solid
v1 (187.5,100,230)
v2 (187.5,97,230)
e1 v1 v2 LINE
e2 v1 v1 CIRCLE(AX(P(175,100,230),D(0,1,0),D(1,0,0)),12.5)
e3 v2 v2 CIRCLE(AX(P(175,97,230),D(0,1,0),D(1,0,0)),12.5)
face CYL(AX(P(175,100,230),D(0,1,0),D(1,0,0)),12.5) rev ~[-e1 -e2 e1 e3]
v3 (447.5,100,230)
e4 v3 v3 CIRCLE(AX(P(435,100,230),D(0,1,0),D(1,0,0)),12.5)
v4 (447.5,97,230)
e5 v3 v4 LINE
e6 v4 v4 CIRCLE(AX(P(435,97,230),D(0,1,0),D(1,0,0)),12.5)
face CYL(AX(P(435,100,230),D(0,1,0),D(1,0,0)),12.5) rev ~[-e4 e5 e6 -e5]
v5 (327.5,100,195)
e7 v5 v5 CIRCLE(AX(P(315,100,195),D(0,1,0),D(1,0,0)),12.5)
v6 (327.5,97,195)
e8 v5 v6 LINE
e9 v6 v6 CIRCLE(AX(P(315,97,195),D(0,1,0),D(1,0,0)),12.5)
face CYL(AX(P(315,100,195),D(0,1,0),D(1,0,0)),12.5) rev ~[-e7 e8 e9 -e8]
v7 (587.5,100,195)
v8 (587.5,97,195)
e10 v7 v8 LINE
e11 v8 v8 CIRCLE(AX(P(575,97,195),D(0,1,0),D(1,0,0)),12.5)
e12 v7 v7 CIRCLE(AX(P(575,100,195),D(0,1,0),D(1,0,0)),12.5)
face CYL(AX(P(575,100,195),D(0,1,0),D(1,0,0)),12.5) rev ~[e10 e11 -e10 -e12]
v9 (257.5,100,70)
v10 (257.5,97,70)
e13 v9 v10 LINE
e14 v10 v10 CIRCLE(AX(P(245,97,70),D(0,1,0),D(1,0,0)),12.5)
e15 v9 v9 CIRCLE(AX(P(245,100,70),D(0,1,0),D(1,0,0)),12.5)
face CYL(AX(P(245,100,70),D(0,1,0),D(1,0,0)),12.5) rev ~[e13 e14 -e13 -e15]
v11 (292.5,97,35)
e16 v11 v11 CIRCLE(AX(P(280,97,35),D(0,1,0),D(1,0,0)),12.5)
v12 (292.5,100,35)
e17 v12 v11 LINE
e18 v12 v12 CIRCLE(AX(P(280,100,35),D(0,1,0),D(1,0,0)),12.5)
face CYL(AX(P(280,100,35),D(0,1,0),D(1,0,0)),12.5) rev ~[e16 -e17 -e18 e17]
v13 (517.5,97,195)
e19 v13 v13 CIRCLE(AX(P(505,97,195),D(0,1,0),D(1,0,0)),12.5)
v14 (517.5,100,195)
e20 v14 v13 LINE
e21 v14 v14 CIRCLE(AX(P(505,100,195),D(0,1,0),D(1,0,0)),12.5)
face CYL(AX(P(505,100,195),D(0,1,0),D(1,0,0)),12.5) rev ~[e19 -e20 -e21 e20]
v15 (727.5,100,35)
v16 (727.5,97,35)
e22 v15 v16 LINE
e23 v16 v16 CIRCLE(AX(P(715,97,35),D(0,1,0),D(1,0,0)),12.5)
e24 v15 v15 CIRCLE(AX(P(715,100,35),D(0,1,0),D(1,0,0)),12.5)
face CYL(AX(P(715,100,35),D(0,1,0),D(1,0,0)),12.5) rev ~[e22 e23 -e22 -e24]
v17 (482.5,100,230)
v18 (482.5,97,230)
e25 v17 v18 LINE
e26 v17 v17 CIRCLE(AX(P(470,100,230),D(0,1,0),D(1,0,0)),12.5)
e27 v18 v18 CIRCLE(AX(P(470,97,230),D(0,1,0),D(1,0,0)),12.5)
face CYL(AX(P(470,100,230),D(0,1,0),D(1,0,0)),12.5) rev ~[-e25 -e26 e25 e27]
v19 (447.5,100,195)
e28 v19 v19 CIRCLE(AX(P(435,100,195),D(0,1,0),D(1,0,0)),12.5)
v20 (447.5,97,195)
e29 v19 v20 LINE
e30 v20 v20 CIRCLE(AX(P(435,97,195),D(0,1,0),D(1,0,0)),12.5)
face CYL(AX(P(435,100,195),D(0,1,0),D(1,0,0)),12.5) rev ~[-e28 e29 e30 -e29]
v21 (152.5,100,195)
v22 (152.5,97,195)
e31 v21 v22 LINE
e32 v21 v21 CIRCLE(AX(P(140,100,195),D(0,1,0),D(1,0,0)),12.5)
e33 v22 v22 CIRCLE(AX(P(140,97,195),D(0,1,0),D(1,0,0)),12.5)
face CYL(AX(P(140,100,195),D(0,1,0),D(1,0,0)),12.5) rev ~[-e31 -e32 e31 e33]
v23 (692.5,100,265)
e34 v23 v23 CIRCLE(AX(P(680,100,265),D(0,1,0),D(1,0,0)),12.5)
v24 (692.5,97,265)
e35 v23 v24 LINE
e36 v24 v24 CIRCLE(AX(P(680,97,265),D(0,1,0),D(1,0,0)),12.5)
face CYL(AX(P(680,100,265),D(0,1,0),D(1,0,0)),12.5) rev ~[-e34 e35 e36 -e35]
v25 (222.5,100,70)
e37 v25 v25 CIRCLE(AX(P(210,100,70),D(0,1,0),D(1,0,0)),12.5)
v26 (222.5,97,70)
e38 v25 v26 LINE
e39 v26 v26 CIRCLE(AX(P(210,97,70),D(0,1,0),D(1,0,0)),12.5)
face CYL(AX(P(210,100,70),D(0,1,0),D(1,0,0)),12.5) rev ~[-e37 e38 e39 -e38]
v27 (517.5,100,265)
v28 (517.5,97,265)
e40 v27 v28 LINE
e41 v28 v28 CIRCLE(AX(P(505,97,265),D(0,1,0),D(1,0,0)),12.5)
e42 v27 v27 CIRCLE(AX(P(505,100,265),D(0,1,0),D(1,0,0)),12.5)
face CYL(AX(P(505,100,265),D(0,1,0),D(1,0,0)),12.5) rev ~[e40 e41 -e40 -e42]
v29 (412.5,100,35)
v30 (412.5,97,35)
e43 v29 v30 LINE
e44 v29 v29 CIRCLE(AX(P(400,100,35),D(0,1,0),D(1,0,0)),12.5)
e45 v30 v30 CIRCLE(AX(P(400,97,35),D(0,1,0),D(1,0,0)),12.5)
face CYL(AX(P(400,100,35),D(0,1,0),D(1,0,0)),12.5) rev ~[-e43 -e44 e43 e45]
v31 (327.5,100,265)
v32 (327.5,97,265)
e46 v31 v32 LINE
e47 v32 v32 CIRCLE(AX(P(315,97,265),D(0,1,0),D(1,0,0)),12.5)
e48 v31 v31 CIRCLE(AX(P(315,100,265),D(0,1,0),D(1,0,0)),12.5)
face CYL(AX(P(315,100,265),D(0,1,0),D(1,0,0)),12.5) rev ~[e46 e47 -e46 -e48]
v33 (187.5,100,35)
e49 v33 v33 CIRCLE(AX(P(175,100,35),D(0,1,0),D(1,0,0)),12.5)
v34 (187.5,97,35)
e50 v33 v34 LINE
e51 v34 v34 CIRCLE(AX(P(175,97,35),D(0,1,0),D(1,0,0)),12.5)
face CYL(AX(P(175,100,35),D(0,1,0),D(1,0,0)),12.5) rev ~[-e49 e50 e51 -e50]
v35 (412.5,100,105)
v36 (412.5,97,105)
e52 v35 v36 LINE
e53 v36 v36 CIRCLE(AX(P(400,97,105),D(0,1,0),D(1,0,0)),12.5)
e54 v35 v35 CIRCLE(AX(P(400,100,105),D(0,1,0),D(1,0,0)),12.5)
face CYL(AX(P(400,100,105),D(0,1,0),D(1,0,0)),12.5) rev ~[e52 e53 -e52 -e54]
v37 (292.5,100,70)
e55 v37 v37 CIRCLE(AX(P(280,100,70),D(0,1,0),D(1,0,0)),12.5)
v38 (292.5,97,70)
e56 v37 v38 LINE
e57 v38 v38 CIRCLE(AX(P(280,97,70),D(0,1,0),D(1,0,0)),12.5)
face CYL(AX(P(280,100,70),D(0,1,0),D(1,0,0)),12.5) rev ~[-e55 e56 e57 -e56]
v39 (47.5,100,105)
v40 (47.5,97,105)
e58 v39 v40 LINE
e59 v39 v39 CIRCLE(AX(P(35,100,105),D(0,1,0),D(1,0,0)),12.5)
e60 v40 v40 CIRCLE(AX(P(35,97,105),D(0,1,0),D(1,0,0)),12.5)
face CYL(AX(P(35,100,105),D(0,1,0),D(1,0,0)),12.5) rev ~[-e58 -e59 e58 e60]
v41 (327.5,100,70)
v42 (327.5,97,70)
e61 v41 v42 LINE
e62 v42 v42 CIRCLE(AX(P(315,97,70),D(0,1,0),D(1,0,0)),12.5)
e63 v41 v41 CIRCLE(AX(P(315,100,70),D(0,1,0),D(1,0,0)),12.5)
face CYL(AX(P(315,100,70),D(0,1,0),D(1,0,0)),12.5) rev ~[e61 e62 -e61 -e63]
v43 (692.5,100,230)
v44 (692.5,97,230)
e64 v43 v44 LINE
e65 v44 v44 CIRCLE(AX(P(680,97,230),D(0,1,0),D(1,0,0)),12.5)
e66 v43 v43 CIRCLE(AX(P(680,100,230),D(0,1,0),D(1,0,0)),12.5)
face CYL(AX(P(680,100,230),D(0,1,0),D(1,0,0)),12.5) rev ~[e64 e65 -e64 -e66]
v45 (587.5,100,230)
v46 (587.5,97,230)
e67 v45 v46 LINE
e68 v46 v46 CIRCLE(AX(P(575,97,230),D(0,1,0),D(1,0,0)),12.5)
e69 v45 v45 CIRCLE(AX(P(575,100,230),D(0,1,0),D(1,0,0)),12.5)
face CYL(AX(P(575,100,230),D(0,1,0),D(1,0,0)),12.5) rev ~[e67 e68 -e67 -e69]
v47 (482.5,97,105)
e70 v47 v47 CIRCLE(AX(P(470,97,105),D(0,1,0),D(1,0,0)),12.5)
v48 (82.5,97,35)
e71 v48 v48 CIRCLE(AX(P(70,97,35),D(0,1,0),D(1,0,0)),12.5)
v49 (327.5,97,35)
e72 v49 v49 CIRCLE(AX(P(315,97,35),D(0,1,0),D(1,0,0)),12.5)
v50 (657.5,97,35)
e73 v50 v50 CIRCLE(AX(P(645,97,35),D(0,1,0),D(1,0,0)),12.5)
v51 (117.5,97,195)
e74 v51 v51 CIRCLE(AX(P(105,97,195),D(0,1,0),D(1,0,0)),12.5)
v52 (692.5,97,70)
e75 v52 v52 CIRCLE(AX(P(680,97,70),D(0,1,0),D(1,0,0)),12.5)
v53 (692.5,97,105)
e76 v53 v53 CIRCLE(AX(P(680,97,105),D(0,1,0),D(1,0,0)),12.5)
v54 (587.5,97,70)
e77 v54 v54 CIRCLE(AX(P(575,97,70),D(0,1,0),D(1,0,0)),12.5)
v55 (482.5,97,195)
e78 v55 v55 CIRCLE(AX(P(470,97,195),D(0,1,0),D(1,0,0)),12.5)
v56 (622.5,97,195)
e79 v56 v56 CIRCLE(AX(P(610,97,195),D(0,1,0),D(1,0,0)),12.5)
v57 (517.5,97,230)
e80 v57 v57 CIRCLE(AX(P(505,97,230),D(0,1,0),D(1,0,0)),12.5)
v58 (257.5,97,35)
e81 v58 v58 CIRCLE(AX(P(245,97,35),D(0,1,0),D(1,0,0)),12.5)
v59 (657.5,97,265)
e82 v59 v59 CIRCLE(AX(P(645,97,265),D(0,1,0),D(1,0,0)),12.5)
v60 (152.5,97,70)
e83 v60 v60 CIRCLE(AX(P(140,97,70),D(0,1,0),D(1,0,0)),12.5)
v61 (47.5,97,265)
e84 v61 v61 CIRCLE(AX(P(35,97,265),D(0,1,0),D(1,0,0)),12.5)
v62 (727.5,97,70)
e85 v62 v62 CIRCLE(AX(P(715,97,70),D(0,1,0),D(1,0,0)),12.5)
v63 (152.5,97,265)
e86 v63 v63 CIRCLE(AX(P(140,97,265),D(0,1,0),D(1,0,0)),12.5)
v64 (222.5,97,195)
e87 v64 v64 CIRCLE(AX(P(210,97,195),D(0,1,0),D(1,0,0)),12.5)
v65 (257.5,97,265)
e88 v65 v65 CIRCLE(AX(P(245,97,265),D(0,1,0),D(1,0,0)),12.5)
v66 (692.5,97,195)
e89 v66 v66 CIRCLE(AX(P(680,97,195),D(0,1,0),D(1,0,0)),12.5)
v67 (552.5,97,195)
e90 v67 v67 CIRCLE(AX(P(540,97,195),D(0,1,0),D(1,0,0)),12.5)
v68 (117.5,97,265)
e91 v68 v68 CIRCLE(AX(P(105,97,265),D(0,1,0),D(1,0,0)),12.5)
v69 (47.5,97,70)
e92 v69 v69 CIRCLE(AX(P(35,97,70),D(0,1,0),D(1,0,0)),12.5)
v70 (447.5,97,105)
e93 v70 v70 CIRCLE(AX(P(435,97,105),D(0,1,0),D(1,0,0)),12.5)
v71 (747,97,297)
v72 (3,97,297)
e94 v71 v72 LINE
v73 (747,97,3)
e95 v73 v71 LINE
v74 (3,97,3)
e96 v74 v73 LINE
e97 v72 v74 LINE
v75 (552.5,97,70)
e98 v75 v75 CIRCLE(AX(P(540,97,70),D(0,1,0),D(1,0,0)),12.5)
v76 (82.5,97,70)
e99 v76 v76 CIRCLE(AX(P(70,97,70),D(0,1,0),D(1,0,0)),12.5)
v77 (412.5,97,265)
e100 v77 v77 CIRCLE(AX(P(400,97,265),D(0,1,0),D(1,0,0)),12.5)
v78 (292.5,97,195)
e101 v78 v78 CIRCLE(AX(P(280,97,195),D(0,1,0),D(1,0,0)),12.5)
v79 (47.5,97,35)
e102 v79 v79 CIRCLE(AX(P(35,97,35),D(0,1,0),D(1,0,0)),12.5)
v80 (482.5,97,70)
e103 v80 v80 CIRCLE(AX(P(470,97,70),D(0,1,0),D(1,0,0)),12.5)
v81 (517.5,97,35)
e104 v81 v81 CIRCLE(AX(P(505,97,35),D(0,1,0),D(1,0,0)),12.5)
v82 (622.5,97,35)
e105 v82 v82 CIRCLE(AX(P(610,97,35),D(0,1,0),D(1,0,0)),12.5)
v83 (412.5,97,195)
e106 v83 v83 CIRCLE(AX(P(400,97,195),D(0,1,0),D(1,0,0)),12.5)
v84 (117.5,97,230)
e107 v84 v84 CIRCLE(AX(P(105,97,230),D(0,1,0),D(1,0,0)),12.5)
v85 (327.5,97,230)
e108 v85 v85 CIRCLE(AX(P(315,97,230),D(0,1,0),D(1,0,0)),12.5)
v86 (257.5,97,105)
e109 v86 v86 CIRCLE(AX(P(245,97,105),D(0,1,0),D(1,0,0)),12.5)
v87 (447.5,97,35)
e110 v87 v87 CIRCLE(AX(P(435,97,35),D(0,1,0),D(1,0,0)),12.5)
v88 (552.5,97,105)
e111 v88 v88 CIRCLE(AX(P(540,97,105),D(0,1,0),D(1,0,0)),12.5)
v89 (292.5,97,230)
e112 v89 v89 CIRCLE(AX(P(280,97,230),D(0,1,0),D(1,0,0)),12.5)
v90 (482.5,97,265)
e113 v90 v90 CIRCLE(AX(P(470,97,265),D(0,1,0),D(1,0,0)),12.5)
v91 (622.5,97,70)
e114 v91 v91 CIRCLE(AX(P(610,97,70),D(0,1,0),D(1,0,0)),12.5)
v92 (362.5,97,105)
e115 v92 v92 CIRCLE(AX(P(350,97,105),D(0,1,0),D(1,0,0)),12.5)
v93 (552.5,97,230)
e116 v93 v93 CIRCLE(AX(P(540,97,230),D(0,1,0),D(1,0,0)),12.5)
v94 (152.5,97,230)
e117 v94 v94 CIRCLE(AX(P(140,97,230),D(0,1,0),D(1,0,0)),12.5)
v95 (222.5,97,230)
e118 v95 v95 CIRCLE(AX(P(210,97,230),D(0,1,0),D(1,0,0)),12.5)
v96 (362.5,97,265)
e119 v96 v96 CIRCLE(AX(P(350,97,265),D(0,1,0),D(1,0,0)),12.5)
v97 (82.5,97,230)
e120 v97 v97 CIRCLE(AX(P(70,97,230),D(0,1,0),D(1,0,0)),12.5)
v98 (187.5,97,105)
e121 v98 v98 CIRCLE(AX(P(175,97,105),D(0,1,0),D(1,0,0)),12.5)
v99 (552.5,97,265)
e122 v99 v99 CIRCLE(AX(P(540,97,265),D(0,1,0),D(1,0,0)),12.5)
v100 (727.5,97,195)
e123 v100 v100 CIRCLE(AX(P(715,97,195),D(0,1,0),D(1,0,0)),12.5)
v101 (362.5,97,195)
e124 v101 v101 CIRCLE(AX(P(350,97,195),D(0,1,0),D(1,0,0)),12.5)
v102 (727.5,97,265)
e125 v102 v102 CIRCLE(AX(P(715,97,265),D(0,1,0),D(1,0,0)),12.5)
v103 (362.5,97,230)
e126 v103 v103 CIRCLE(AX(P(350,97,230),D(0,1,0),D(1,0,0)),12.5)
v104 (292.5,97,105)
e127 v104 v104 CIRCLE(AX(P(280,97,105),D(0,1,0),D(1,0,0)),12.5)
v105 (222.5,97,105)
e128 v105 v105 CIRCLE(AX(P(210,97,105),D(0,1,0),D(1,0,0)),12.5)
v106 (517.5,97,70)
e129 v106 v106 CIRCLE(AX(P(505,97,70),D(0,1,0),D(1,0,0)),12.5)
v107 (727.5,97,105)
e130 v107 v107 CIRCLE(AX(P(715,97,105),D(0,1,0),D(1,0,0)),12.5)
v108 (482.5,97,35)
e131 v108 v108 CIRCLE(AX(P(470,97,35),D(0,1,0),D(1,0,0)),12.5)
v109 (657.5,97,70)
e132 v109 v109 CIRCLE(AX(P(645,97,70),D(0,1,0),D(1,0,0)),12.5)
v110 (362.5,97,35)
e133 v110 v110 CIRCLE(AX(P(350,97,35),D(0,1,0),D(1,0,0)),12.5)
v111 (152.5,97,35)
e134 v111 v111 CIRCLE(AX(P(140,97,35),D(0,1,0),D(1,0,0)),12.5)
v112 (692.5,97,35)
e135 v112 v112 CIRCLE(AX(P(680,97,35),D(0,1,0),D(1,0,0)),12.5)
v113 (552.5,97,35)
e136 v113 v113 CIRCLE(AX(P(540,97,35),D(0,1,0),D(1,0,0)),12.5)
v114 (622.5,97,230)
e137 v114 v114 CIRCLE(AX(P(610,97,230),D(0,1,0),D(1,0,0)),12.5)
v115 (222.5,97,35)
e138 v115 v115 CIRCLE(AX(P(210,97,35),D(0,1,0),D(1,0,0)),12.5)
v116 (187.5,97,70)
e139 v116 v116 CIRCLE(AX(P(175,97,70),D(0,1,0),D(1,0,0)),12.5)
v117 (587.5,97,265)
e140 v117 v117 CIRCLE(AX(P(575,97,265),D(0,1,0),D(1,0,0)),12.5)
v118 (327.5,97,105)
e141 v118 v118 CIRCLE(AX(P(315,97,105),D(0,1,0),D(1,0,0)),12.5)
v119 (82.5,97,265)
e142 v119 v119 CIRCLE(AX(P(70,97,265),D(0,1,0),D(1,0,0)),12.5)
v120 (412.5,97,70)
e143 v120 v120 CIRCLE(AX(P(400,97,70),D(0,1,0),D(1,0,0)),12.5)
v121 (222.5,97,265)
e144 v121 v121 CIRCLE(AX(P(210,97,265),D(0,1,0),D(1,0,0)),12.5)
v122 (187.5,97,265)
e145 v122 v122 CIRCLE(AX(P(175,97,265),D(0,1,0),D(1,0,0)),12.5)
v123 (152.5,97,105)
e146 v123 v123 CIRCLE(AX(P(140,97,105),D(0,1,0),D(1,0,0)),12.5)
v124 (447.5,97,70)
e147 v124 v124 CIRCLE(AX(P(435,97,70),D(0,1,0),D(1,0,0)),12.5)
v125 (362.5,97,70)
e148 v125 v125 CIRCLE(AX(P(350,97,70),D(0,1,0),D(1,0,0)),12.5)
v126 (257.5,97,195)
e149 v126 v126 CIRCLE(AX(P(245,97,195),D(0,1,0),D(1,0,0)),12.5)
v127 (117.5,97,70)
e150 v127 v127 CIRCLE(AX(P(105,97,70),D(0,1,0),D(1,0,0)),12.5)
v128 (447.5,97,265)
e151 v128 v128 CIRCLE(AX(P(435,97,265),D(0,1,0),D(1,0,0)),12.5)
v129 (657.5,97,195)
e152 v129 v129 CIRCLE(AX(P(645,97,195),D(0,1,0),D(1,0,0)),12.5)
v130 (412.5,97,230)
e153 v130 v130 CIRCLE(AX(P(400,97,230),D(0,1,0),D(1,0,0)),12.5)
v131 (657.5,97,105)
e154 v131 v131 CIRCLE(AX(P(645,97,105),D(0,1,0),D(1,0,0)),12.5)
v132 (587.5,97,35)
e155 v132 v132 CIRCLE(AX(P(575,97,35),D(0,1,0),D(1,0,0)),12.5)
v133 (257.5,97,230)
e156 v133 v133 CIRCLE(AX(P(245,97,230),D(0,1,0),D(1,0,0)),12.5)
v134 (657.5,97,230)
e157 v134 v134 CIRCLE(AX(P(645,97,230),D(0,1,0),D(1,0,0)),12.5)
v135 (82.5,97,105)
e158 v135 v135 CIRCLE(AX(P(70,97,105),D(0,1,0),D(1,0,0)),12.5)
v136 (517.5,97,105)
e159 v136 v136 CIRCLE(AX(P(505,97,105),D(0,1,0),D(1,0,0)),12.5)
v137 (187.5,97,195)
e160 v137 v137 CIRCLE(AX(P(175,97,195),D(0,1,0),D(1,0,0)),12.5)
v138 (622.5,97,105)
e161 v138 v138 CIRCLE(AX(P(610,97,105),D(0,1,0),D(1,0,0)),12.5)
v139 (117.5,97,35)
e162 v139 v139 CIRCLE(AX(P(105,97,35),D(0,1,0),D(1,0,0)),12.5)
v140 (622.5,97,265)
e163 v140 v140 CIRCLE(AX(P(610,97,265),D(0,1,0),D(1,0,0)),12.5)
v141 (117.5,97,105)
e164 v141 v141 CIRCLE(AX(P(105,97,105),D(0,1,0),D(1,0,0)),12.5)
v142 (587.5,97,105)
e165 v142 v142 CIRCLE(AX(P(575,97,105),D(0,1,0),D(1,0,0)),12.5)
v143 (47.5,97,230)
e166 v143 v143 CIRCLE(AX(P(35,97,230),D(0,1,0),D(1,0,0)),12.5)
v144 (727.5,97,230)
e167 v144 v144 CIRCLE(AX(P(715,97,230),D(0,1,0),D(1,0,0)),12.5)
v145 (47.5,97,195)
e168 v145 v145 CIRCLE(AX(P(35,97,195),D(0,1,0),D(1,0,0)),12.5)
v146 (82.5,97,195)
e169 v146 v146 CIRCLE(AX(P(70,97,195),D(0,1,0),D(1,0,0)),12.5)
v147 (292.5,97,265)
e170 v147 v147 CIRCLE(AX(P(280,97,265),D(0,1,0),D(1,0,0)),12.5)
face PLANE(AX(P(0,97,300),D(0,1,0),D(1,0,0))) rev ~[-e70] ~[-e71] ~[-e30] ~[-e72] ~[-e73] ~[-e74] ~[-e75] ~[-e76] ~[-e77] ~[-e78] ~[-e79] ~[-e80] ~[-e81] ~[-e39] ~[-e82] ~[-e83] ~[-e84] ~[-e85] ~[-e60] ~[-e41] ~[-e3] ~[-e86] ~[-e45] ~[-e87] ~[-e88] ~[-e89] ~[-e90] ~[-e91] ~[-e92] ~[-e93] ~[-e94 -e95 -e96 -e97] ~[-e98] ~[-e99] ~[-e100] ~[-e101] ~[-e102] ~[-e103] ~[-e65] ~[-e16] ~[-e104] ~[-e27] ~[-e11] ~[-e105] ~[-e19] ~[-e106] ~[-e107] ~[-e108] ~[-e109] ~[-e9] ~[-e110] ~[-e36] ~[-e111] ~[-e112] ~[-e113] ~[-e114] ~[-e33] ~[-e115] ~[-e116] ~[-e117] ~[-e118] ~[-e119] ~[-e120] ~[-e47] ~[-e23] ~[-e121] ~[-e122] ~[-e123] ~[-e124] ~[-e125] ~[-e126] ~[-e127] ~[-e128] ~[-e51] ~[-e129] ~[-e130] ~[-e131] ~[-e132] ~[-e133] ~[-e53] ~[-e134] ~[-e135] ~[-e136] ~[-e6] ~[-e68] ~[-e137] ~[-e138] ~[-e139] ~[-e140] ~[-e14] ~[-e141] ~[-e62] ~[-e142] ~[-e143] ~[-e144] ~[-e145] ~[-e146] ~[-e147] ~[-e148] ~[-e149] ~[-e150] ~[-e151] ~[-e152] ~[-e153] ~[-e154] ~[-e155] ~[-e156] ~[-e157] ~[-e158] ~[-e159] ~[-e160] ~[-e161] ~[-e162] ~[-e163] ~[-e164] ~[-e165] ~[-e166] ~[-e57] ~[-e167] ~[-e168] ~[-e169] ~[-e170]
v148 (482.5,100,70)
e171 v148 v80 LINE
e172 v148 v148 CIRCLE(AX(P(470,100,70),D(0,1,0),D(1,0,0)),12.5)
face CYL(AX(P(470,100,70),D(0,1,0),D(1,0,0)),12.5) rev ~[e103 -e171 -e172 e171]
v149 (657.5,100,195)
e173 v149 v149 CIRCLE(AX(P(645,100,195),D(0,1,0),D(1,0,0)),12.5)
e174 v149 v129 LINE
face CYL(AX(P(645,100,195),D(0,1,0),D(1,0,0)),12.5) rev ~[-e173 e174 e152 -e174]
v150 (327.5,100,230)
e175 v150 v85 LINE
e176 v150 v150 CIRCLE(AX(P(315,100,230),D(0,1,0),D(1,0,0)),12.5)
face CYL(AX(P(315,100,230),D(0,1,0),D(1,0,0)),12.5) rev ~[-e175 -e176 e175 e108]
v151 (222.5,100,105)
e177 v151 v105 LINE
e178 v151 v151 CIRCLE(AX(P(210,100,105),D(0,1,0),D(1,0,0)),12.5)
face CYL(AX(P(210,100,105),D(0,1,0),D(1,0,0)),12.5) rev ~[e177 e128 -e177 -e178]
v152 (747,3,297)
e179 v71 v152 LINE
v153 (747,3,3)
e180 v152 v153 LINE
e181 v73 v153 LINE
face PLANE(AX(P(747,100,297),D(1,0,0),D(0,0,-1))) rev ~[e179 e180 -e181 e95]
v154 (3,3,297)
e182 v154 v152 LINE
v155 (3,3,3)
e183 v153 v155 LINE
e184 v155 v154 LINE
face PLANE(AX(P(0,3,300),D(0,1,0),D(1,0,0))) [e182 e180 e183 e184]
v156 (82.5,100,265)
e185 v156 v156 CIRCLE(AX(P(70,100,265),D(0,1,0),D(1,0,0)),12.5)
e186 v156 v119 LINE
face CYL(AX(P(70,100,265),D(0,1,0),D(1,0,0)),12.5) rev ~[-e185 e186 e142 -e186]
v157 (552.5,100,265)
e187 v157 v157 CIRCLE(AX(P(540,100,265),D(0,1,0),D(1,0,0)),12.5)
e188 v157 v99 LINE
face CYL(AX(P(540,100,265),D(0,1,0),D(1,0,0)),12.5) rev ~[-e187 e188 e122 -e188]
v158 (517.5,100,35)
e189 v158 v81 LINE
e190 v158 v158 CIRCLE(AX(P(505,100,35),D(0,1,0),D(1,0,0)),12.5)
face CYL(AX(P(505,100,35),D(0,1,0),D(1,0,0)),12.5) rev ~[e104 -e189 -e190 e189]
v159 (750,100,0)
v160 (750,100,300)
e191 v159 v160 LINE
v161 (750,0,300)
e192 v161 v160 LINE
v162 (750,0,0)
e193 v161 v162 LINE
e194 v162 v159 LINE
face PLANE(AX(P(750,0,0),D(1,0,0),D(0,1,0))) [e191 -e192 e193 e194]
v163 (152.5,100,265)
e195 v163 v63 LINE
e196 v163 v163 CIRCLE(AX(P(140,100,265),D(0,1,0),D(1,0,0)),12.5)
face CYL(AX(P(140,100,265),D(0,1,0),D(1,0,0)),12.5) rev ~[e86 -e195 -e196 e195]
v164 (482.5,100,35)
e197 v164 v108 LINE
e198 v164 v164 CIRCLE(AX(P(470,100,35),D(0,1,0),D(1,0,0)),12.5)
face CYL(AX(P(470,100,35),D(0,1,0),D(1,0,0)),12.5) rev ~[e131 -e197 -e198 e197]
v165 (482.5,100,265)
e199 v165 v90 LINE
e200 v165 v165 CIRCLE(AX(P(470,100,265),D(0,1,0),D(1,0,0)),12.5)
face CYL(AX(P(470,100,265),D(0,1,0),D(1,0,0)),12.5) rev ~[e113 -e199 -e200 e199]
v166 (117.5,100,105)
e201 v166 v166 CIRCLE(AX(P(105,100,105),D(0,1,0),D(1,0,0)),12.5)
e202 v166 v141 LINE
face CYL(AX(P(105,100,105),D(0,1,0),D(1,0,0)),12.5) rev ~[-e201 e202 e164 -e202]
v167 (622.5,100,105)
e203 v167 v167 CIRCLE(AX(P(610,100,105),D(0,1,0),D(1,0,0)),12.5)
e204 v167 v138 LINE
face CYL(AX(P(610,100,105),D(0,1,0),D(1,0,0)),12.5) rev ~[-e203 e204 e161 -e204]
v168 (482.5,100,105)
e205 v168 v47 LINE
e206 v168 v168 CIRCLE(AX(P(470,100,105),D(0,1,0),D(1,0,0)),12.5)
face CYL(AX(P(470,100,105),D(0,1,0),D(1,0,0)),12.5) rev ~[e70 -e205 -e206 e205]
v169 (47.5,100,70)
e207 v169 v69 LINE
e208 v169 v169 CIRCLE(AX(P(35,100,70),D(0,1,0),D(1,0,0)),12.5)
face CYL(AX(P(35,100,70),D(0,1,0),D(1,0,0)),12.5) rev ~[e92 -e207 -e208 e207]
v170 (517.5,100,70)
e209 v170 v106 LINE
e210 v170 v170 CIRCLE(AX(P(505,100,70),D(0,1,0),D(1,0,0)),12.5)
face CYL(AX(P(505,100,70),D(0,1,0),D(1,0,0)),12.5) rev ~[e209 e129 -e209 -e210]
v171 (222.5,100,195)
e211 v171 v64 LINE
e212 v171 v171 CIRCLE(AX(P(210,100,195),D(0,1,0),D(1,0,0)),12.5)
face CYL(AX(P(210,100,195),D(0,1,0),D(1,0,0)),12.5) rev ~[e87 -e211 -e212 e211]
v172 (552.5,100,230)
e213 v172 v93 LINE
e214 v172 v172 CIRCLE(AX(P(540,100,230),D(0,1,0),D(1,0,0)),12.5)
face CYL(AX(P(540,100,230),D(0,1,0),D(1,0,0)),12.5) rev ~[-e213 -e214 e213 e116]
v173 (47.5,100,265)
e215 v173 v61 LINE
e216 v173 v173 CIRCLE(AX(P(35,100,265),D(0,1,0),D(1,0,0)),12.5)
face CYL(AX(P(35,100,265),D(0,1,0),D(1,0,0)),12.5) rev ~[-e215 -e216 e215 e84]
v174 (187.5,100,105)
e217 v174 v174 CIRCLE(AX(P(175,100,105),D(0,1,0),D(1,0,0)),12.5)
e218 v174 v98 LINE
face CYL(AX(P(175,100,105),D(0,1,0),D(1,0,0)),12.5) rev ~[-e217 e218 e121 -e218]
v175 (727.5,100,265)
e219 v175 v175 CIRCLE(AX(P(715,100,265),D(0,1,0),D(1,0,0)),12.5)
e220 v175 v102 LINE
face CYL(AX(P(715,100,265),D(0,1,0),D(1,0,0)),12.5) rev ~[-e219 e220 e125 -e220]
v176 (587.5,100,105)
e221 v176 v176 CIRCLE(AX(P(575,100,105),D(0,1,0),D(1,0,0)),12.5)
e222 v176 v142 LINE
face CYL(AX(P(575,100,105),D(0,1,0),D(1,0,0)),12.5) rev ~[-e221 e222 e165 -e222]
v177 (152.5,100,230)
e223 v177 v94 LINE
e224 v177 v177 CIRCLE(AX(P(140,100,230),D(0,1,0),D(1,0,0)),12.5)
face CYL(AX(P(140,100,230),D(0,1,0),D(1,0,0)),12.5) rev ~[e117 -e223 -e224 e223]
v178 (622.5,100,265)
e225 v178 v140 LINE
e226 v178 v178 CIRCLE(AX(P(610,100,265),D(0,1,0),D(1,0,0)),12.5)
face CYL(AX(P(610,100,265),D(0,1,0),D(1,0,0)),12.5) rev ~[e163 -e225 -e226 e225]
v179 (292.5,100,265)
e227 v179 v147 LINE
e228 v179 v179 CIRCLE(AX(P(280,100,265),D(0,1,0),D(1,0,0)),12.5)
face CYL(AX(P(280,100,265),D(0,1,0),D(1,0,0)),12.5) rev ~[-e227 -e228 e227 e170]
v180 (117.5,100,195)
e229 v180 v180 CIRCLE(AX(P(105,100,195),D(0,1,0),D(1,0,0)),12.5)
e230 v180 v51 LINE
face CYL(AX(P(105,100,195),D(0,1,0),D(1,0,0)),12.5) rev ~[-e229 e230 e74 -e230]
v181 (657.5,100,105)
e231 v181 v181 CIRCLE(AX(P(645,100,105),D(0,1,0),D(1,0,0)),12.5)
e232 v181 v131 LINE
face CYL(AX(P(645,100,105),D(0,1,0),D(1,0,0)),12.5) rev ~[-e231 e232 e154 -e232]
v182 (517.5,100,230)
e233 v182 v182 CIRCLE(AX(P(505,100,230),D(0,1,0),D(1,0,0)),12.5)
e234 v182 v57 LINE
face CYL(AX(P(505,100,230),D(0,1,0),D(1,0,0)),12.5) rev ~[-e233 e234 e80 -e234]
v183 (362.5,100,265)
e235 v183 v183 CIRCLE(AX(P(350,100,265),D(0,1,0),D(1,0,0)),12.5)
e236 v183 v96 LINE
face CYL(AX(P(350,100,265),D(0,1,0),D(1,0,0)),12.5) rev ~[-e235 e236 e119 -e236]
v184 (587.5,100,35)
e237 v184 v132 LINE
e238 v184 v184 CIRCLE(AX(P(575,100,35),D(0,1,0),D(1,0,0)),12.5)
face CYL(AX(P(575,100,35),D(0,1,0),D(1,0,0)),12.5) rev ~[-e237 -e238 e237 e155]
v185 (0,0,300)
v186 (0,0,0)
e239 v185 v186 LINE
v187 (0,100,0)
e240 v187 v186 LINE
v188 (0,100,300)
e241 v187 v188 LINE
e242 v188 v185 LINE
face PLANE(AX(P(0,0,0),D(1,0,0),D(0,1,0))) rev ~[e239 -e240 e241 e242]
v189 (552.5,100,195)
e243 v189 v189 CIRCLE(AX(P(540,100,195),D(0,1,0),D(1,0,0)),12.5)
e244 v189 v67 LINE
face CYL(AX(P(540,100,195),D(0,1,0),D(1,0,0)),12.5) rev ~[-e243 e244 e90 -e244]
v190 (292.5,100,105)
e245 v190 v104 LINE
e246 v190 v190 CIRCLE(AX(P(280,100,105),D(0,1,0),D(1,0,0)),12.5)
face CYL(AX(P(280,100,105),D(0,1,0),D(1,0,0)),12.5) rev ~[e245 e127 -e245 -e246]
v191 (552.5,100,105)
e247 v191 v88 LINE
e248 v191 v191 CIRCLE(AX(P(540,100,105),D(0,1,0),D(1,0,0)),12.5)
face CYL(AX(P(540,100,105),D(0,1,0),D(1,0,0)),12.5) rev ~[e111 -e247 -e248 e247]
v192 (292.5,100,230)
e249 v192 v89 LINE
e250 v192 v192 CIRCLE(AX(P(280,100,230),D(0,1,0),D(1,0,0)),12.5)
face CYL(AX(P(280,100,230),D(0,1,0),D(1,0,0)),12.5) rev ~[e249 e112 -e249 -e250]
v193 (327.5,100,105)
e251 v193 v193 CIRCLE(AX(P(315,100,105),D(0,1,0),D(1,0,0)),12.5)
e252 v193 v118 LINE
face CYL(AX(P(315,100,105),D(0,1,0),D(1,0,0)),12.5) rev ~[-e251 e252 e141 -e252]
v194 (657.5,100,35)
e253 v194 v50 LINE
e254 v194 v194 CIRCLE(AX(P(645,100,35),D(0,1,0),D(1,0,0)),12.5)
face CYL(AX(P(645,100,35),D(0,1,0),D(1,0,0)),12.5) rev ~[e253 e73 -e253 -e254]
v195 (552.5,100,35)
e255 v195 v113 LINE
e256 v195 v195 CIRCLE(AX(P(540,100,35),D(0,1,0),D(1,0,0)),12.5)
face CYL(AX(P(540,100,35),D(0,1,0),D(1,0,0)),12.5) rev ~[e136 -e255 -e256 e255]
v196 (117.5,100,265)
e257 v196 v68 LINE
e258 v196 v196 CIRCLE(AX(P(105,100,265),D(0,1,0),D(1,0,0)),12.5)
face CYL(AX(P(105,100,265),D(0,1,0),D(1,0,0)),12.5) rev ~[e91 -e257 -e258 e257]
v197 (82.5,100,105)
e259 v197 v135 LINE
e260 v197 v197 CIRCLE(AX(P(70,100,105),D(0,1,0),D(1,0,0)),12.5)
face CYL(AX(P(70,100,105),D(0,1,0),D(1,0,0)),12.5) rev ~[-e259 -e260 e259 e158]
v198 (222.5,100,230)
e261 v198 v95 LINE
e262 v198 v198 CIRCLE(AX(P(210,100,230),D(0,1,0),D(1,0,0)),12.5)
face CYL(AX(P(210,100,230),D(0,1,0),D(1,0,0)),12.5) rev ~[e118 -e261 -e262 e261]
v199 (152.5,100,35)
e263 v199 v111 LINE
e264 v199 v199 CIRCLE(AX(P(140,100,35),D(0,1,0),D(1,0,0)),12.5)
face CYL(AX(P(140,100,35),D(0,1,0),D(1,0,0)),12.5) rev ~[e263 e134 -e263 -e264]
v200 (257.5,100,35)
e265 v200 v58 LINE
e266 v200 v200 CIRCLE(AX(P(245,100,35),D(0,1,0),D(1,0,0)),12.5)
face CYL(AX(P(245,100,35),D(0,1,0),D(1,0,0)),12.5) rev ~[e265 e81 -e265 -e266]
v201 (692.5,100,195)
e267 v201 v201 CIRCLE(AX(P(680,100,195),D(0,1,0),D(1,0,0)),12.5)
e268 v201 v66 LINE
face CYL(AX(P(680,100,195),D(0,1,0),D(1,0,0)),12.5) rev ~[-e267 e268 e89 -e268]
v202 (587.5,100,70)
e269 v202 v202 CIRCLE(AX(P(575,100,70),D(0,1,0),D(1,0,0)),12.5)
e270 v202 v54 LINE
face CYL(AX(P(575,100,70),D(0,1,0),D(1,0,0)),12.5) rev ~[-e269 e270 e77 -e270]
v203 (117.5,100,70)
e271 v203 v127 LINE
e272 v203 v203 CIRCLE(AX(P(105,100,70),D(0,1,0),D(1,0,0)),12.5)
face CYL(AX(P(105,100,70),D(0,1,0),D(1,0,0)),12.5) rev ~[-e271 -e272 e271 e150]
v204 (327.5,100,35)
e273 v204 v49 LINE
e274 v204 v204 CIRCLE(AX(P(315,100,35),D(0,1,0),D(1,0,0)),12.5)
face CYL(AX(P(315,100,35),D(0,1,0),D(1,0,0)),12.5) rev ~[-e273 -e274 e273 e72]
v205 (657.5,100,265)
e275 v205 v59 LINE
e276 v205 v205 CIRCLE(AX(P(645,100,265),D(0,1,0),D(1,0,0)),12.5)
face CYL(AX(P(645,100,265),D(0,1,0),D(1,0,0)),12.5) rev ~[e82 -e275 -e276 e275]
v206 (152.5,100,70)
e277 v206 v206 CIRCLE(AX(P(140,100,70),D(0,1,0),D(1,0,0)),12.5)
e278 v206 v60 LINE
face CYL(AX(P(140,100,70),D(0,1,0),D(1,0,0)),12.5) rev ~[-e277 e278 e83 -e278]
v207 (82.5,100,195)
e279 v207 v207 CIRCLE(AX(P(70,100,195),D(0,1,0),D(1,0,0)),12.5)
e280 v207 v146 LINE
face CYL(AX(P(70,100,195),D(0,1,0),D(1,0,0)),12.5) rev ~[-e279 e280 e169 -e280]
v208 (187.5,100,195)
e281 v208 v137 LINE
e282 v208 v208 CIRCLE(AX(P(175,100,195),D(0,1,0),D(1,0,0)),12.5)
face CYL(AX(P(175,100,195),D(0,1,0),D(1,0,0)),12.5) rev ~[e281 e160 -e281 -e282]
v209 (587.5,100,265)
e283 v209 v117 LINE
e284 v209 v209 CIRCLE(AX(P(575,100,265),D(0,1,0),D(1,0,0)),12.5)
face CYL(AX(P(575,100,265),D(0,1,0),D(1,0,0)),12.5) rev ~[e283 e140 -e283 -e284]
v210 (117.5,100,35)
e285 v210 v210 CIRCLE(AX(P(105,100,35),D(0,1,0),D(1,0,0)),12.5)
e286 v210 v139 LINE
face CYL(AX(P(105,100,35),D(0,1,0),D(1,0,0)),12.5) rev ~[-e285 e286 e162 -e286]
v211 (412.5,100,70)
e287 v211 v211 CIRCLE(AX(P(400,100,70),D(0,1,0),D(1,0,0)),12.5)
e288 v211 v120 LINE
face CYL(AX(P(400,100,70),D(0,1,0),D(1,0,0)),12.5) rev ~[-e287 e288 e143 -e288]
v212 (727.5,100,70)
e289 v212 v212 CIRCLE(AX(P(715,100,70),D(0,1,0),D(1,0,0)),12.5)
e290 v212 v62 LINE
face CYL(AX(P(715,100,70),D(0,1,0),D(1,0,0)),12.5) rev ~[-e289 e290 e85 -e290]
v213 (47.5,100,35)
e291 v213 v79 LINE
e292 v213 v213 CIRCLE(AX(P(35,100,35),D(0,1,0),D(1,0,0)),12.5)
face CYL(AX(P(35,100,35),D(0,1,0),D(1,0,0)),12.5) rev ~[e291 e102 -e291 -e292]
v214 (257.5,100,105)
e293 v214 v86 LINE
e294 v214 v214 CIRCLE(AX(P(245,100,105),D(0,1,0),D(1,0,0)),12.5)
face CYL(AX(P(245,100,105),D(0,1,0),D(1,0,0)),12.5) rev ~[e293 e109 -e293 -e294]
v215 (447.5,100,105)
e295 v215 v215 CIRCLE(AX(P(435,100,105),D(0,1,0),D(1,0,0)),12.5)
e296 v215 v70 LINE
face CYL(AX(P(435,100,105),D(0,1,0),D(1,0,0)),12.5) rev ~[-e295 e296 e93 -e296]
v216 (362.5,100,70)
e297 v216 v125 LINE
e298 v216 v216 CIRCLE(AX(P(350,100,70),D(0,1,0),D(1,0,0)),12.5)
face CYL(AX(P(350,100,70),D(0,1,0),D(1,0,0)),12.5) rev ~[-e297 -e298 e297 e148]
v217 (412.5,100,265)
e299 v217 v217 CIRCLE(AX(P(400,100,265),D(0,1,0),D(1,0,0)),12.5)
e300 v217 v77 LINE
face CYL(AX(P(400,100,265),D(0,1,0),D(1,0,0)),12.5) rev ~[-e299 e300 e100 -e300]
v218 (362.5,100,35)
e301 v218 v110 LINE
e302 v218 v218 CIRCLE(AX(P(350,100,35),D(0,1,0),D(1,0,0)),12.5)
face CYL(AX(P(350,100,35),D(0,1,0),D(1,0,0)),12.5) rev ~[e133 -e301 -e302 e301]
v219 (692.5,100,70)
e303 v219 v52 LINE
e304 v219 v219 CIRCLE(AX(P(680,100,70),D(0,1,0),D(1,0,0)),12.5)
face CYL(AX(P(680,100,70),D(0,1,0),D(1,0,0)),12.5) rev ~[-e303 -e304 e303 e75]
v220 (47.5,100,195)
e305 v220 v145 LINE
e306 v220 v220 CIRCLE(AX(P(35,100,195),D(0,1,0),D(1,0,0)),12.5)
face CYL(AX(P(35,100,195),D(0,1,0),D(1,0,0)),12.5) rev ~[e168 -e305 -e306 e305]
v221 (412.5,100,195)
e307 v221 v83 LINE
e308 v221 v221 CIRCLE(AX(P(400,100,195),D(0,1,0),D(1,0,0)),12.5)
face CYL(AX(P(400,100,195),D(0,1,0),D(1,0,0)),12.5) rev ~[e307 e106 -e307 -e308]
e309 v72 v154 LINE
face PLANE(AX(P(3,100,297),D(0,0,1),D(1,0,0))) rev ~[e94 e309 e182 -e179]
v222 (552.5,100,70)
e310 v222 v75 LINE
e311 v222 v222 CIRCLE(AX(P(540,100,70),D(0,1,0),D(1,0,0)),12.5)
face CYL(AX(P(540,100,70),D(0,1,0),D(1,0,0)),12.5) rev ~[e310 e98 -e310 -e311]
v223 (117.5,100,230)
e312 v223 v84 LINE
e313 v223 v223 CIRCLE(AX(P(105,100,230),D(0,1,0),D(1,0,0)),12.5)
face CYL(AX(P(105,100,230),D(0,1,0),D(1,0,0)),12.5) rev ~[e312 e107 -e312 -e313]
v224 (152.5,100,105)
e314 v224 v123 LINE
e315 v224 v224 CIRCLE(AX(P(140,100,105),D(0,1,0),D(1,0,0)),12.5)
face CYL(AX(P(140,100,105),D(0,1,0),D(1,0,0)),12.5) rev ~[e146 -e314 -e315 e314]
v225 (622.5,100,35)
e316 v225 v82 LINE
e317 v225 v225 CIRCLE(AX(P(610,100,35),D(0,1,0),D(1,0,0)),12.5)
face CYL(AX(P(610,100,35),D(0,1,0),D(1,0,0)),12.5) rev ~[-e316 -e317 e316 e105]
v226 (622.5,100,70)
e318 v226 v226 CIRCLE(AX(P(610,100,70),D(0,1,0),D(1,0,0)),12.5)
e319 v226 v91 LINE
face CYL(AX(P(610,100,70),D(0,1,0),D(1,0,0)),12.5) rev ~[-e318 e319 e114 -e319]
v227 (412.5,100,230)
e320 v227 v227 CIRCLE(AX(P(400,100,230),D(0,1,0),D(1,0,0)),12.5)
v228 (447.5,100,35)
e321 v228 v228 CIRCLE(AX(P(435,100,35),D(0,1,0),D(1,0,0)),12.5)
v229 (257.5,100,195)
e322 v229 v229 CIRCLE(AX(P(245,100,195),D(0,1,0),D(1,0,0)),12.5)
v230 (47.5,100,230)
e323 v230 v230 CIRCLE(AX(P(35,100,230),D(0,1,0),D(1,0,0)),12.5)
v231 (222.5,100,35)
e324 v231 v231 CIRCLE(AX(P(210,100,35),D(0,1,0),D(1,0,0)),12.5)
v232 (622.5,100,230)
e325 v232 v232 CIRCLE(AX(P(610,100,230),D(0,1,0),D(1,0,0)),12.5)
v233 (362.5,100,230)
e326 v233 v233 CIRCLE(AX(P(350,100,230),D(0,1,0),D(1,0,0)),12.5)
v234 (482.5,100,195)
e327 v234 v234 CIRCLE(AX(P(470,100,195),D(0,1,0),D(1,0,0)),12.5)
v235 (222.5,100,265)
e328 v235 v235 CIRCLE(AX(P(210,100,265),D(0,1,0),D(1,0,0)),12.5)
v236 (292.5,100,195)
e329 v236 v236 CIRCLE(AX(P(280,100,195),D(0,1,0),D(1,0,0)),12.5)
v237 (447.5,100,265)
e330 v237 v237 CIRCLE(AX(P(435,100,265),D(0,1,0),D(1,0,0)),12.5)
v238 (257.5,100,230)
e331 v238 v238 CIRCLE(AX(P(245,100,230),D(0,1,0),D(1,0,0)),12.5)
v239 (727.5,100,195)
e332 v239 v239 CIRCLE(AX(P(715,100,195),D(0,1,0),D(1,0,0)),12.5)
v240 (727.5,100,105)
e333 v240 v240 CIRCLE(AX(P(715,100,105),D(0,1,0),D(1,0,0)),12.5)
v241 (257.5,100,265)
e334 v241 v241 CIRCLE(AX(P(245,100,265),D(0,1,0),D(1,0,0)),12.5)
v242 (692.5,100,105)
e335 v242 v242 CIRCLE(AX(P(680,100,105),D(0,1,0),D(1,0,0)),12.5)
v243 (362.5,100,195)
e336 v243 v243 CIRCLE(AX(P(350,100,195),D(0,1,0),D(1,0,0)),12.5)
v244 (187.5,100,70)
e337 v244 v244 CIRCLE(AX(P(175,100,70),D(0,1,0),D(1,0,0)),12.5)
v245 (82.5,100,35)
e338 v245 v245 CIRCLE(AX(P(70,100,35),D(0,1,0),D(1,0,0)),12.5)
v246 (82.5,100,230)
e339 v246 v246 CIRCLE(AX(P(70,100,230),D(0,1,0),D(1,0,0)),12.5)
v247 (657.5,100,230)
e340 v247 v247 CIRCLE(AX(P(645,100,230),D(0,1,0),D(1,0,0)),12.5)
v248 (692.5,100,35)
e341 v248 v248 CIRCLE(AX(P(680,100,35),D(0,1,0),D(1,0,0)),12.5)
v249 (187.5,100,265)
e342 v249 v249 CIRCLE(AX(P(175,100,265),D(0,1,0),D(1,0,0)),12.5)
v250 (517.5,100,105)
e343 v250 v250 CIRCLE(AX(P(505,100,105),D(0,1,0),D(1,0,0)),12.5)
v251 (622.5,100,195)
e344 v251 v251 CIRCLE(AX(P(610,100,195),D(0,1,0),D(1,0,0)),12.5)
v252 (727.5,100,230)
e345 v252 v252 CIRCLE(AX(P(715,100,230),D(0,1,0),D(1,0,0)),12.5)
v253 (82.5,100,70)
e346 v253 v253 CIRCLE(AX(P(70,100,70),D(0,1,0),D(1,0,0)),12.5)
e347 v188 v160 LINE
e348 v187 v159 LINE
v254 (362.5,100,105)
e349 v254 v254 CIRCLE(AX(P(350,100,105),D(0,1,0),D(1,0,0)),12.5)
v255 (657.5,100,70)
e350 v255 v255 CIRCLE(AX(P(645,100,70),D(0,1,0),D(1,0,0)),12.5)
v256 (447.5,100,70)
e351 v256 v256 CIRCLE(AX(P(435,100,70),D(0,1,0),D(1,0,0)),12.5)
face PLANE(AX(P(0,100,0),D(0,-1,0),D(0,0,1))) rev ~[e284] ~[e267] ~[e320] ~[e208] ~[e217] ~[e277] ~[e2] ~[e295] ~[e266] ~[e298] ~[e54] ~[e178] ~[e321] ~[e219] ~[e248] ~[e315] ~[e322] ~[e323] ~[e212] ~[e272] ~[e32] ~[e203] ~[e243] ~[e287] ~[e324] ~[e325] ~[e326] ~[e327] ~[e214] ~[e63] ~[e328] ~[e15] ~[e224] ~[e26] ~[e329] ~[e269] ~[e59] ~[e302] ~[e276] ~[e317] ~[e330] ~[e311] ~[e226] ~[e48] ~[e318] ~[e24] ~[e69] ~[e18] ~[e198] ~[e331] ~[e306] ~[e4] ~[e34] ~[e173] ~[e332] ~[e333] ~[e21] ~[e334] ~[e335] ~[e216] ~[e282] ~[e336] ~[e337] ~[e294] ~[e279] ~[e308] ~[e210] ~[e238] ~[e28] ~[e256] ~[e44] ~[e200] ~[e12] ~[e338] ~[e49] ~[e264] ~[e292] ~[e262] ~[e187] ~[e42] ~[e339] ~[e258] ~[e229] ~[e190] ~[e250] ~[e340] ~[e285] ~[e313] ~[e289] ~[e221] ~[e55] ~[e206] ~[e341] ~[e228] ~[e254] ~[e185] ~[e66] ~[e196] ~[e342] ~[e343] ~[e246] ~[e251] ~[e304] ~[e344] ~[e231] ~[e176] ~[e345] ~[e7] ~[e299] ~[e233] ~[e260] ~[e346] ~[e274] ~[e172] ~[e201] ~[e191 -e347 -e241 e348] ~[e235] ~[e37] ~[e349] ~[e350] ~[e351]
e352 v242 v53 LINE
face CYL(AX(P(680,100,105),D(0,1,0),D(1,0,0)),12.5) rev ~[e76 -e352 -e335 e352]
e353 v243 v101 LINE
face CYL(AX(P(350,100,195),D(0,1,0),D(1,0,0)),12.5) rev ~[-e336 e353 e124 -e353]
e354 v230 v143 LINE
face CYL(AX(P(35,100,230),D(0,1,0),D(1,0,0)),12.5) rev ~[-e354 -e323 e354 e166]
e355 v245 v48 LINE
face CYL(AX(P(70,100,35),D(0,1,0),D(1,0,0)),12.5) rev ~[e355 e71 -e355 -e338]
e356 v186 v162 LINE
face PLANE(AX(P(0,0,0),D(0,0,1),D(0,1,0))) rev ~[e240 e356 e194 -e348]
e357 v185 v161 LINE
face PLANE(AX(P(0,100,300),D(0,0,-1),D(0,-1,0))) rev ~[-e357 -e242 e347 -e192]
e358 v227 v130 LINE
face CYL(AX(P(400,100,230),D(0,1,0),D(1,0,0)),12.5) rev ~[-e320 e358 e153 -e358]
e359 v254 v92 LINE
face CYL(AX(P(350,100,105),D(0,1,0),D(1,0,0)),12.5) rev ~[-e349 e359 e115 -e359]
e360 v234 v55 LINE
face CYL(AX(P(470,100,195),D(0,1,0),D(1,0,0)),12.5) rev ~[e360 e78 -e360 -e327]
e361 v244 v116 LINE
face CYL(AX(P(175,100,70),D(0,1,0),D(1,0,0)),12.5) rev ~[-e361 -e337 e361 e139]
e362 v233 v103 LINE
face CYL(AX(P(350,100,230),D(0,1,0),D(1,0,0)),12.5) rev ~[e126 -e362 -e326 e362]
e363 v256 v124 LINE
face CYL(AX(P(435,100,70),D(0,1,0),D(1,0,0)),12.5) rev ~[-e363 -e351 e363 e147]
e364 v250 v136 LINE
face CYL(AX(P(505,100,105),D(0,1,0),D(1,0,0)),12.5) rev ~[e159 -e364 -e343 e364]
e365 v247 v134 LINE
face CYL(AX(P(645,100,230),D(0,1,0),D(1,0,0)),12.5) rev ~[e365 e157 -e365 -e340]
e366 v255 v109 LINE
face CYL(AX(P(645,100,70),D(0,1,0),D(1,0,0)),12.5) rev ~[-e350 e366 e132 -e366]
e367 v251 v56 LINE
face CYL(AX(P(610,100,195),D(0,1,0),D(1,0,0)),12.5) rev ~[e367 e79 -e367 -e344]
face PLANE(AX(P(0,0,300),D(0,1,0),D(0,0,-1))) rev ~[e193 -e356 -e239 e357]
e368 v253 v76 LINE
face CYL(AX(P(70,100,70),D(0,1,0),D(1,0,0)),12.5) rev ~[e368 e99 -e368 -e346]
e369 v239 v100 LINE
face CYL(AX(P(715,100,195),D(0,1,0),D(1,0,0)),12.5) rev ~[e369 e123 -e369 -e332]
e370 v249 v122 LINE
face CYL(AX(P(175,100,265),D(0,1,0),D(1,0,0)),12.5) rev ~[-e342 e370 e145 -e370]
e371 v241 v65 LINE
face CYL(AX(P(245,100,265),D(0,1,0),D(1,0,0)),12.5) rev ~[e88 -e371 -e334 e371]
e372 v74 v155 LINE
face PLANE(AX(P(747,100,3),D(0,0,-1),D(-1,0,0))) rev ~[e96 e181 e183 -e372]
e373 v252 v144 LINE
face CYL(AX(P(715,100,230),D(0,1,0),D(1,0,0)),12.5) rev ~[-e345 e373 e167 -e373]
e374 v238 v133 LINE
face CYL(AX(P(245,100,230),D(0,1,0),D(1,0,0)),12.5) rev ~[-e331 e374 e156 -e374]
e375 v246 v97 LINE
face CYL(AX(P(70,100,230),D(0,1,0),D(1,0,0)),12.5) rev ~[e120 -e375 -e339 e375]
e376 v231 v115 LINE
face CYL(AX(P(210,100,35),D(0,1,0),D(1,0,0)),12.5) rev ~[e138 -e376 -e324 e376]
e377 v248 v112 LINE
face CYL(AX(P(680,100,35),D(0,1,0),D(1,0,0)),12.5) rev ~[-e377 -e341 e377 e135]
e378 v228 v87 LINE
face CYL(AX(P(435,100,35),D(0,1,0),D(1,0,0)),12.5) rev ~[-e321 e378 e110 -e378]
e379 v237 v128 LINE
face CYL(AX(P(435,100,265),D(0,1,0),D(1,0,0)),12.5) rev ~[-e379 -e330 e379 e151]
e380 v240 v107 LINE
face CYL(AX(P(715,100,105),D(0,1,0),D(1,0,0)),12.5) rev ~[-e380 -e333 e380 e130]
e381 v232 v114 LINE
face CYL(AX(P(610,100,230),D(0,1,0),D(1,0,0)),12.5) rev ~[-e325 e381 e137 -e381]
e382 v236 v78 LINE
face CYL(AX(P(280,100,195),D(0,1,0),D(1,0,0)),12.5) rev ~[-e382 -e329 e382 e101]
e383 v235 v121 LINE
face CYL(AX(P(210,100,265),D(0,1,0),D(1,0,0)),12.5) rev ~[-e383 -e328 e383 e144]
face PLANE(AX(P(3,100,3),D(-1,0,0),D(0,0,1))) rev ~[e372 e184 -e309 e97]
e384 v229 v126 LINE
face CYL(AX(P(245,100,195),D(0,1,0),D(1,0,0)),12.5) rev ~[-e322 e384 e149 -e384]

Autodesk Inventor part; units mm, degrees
ref_plane "YZ Plane" through (0, 0, 0) normal (1, 0, 0) x (0, 1, 0)
ref_plane "XZ Plane" through (0, 0, 0) normal (0, 1, 0) x (-1, 0, 0)
ref_plane "XY Plane" through (0, 0, 0) normal (0, 0, 1) x (1, 0, 0)
sketch "Sketch1" plane through (0, 0, 0) normal (1, 0, 0) x (0, 1, 0)
  line L0 (0, 0) -> (100, 0)
  line L1 (100, 0) -> (100, 300)
  line L2 (100, 300) -> (0, 300)
  line L3 (0, 300) -> (0, 0)
  dimension "d0" = 100
  dimension "d1" = 300
extrude "Extrusion1" add sketch "Sketch1" along normal blind 750
sketch "Sketch2" plane through (0, 100, 300) normal (0, 1, 0) x (1, 0, 0)
  line L0 (3, 3) -> (747, 3)
  line L1 (747, 3) -> (747, 297)
  line L2 (747, 297) -> (3, 297)
  line L3 (3, 297) -> (3, 3)
  point P0 (0, 300)
  dimension "d4" = 744
  dimension "d5" = 294
extrude "Extrusion2" cut sketch "Sketch2" against normal blind 97
sketch "Sketch3" plane through (0, 100, 300) normal (0, 1, 0) x (1, 0, 0)
  line L0 (0, 0) -> (750, 0)
  line L1 (750, 0) -> (750, 300)
  line L2 (750, 300) -> (0, 300)
  line L3 (0, 300) -> (0, 0)
  dimension "d8" = 750
  dimension "d9" = 300
extrude "Extrusion3" add sketch "Sketch3" against normal blind 3
sketch "Sketch4" plane through (0, 100, 300) normal (0, 1, 0) x (1, 0, 0)
  circle A0 centre (35, 265) radius 12.5
  circle A1 centre (35, 230) radius 12.5
  circle A2 centre (35, 195) radius 12.5
  circle A3 centre (35, 105) radius 12.5
  circle A4 centre (35, 70) radius 12.5
  circle A5 centre (35, 35) radius 12.5
  circle A6 centre (70, 265) radius 12.5
  circle A7 centre (105, 265) radius 12.5
  circle A8 centre (140, 265) radius 12.5
  circle A9 centre (175, 265) radius 12.5
  circle A10 centre (70, 230) radius 12.5
  circle A11 centre (105, 230) radius 12.5
  circle A12 centre (140, 230) radius 12.5
  circle A13 centre (175, 230) radius 12.5
  circle A14 centre (210, 265) radius 12.5
  circle A15 centre (245, 265) radius 12.5
  circle A16 centre (280, 265) radius 12.5
  circle A17 centre (315, 265) radius 12.5
  circle A18 centre (350, 265) radius 12.5
  circle A19 centre (400, 265) radius 12.5
  circle A20 centre (435, 265) radius 12.5
  circle A21 centre (470, 265) radius 12.5
  circle A22 centre (505, 265) radius 12.5
  circle A23 centre (540, 265) radius 12.5
  circle A24 centre (575, 265) radius 12.5
  circle A25 centre (610, 265) radius 12.5
  circle A26 centre (645, 265) radius 12.5
  circle A27 centre (680, 265) radius 12.5
  circle A28 centre (715, 265) radius 12.5
  circle A29 centre (210, 230) radius 12.5
  circle A30 centre (245, 230) radius 12.5
  circle A31 centre (280, 230) radius 12.5
  circle A32 centre (315, 230) radius 12.5
  circle A33 centre (350, 230) radius 12.5
  circle A34 centre (350, 195) radius 12.5
  circle A35 centre (315, 195) radius 12.5
  circle A36 centre (280, 195) radius 12.5
  circle A37 centre (70, 195) radius 12.5
  circle A38 centre (105, 195) radius 12.5
  circle A39 centre (140, 195) radius 12.5
  circle A40 centre (175, 195) radius 12.5
  circle A41 centre (210, 195) radius 12.5
  circle A42 centre (245, 195) radius 12.5
  circle A43 centre (400, 230) radius 12.5
  circle A44 centre (435, 230) radius 12.5
  circle A45 centre (470, 230) radius 12.5
  circle A46 centre (505, 230) radius 12.5
  circle A47 centre (540, 230) radius 12.5
  circle A48 centre (575, 230) radius 12.5
  circle A49 centre (610, 230) radius 12.5
  circle A50 centre (645, 230) radius 12.5
  circle A51 centre (680, 230) radius 12.5
  circle A52 centre (715, 230) radius 12.5
  circle A53 centre (400, 195) radius 12.5
  circle A54 centre (435, 195) radius 12.5
  circle A55 centre (470, 195) radius 12.5
  circle A56 centre (505, 195) radius 12.5
  circle A57 centre (540, 195) radius 12.5
  circle A58 centre (575, 195) radius 12.5
  circle A59 centre (610, 195) radius 12.5
  circle A60 centre (645, 195) radius 12.5
  circle A61 centre (680, 195) radius 12.5
  circle A62 centre (715, 195) radius 12.5
  circle A63 centre (70, 105) radius 12.5
  circle A64 centre (105, 105) radius 12.5
  circle A65 centre (140, 105) radius 12.5
  circle A66 centre (175, 105) radius 12.5
  circle A67 centre (210, 105) radius 12.5
  circle A68 centre (245, 105) radius 12.5
  circle A69 centre (280, 105) radius 12.5
  circle A70 centre (315, 105) radius 12.5
  circle A71 centre (350, 105) radius 12.5
  circle A72 centre (70, 70) radius 12.5
  circle A73 centre (105, 70) radius 12.5
  circle A74 centre (140, 70) radius 12.5
  circle A75 centre (175, 70) radius 12.5
  circle A76 centre (210, 70) radius 12.5
  circle A77 centre (245, 70) radius 12.5
  circle A78 centre (280, 70) radius 12.5
  circle A79 centre (315, 70) radius 12.5
  circle A80 centre (350, 70) radius 12.5
  circle A81 centre (70, 35) radius 12.5
  circle A82 centre (105, 35) radius 12.5
  circle A83 centre (140, 35) radius 12.5
  circle A84 centre (175, 35) radius 12.5
  circle A85 centre (210, 35) radius 12.5
  circle A86 centre (245, 35) radius 12.5
  circle A87 centre (280, 35) radius 12.5
  circle A88 centre (315, 35) radius 12.5
  circle A89 centre (350, 35) radius 12.5
  circle A90 centre (400, 105) radius 12.5
  circle A91 centre (435, 105) radius 12.5
  circle A92 centre (470, 105) radius 12.5
  circle A93 centre (505, 105) radius 12.5
  circle A94 centre (540, 105) radius 12.5
  circle A95 centre (575, 105) radius 12.5
  circle A96 centre (610, 105) radius 12.5
  circle A97 centre (645, 105) radius 12.5
  circle A98 centre (680, 105) radius 12.5
  circle A99 centre (715, 105) radius 12.5
  circle A100 centre (400, 70) radius 12.5
  circle A101 centre (435, 70) radius 12.5
  circle A102 centre (470, 70) radius 12.5
  circle A103 centre (505, 70) radius 12.5
  circle A104 centre (540, 70) radius 12.5
  circle A105 centre (575, 70) radius 12.5
  circle A106 centre (610, 70) radius 12.5
  circle A107 centre (645, 70) radius 12.5
  circle A108 centre (680, 70) radius 12.5
  circle A109 centre (715, 70) radius 12.5
  circle A110 centre (400, 35) radius 12.5
  circle A111 centre (435, 35) radius 12.5
  circle A112 centre (470, 35) radius 12.5
  circle A113 centre (505, 35) radius 12.5
  circle A114 centre (540, 35) radius 12.5
  circle A115 centre (575, 35) radius 12.5
  circle A116 centre (610, 35) radius 12.5
  circle A117 centre (645, 35) radius 12.5
  circle A118 centre (680, 35) radius 12.5
  circle A119 centre (715, 35) radius 12.5
  point P0 (0, 300)
  dimension "d12" = 25
  dimension "d13" = 25
  dimension "d14" = 25
  dimension "d15" = 25
  dimension "d16" = 25
  dimension "d17" = 25
extrude "Extrusion4" cut sketch "Sketch4" against normal blind 3
properties part number "Base"
